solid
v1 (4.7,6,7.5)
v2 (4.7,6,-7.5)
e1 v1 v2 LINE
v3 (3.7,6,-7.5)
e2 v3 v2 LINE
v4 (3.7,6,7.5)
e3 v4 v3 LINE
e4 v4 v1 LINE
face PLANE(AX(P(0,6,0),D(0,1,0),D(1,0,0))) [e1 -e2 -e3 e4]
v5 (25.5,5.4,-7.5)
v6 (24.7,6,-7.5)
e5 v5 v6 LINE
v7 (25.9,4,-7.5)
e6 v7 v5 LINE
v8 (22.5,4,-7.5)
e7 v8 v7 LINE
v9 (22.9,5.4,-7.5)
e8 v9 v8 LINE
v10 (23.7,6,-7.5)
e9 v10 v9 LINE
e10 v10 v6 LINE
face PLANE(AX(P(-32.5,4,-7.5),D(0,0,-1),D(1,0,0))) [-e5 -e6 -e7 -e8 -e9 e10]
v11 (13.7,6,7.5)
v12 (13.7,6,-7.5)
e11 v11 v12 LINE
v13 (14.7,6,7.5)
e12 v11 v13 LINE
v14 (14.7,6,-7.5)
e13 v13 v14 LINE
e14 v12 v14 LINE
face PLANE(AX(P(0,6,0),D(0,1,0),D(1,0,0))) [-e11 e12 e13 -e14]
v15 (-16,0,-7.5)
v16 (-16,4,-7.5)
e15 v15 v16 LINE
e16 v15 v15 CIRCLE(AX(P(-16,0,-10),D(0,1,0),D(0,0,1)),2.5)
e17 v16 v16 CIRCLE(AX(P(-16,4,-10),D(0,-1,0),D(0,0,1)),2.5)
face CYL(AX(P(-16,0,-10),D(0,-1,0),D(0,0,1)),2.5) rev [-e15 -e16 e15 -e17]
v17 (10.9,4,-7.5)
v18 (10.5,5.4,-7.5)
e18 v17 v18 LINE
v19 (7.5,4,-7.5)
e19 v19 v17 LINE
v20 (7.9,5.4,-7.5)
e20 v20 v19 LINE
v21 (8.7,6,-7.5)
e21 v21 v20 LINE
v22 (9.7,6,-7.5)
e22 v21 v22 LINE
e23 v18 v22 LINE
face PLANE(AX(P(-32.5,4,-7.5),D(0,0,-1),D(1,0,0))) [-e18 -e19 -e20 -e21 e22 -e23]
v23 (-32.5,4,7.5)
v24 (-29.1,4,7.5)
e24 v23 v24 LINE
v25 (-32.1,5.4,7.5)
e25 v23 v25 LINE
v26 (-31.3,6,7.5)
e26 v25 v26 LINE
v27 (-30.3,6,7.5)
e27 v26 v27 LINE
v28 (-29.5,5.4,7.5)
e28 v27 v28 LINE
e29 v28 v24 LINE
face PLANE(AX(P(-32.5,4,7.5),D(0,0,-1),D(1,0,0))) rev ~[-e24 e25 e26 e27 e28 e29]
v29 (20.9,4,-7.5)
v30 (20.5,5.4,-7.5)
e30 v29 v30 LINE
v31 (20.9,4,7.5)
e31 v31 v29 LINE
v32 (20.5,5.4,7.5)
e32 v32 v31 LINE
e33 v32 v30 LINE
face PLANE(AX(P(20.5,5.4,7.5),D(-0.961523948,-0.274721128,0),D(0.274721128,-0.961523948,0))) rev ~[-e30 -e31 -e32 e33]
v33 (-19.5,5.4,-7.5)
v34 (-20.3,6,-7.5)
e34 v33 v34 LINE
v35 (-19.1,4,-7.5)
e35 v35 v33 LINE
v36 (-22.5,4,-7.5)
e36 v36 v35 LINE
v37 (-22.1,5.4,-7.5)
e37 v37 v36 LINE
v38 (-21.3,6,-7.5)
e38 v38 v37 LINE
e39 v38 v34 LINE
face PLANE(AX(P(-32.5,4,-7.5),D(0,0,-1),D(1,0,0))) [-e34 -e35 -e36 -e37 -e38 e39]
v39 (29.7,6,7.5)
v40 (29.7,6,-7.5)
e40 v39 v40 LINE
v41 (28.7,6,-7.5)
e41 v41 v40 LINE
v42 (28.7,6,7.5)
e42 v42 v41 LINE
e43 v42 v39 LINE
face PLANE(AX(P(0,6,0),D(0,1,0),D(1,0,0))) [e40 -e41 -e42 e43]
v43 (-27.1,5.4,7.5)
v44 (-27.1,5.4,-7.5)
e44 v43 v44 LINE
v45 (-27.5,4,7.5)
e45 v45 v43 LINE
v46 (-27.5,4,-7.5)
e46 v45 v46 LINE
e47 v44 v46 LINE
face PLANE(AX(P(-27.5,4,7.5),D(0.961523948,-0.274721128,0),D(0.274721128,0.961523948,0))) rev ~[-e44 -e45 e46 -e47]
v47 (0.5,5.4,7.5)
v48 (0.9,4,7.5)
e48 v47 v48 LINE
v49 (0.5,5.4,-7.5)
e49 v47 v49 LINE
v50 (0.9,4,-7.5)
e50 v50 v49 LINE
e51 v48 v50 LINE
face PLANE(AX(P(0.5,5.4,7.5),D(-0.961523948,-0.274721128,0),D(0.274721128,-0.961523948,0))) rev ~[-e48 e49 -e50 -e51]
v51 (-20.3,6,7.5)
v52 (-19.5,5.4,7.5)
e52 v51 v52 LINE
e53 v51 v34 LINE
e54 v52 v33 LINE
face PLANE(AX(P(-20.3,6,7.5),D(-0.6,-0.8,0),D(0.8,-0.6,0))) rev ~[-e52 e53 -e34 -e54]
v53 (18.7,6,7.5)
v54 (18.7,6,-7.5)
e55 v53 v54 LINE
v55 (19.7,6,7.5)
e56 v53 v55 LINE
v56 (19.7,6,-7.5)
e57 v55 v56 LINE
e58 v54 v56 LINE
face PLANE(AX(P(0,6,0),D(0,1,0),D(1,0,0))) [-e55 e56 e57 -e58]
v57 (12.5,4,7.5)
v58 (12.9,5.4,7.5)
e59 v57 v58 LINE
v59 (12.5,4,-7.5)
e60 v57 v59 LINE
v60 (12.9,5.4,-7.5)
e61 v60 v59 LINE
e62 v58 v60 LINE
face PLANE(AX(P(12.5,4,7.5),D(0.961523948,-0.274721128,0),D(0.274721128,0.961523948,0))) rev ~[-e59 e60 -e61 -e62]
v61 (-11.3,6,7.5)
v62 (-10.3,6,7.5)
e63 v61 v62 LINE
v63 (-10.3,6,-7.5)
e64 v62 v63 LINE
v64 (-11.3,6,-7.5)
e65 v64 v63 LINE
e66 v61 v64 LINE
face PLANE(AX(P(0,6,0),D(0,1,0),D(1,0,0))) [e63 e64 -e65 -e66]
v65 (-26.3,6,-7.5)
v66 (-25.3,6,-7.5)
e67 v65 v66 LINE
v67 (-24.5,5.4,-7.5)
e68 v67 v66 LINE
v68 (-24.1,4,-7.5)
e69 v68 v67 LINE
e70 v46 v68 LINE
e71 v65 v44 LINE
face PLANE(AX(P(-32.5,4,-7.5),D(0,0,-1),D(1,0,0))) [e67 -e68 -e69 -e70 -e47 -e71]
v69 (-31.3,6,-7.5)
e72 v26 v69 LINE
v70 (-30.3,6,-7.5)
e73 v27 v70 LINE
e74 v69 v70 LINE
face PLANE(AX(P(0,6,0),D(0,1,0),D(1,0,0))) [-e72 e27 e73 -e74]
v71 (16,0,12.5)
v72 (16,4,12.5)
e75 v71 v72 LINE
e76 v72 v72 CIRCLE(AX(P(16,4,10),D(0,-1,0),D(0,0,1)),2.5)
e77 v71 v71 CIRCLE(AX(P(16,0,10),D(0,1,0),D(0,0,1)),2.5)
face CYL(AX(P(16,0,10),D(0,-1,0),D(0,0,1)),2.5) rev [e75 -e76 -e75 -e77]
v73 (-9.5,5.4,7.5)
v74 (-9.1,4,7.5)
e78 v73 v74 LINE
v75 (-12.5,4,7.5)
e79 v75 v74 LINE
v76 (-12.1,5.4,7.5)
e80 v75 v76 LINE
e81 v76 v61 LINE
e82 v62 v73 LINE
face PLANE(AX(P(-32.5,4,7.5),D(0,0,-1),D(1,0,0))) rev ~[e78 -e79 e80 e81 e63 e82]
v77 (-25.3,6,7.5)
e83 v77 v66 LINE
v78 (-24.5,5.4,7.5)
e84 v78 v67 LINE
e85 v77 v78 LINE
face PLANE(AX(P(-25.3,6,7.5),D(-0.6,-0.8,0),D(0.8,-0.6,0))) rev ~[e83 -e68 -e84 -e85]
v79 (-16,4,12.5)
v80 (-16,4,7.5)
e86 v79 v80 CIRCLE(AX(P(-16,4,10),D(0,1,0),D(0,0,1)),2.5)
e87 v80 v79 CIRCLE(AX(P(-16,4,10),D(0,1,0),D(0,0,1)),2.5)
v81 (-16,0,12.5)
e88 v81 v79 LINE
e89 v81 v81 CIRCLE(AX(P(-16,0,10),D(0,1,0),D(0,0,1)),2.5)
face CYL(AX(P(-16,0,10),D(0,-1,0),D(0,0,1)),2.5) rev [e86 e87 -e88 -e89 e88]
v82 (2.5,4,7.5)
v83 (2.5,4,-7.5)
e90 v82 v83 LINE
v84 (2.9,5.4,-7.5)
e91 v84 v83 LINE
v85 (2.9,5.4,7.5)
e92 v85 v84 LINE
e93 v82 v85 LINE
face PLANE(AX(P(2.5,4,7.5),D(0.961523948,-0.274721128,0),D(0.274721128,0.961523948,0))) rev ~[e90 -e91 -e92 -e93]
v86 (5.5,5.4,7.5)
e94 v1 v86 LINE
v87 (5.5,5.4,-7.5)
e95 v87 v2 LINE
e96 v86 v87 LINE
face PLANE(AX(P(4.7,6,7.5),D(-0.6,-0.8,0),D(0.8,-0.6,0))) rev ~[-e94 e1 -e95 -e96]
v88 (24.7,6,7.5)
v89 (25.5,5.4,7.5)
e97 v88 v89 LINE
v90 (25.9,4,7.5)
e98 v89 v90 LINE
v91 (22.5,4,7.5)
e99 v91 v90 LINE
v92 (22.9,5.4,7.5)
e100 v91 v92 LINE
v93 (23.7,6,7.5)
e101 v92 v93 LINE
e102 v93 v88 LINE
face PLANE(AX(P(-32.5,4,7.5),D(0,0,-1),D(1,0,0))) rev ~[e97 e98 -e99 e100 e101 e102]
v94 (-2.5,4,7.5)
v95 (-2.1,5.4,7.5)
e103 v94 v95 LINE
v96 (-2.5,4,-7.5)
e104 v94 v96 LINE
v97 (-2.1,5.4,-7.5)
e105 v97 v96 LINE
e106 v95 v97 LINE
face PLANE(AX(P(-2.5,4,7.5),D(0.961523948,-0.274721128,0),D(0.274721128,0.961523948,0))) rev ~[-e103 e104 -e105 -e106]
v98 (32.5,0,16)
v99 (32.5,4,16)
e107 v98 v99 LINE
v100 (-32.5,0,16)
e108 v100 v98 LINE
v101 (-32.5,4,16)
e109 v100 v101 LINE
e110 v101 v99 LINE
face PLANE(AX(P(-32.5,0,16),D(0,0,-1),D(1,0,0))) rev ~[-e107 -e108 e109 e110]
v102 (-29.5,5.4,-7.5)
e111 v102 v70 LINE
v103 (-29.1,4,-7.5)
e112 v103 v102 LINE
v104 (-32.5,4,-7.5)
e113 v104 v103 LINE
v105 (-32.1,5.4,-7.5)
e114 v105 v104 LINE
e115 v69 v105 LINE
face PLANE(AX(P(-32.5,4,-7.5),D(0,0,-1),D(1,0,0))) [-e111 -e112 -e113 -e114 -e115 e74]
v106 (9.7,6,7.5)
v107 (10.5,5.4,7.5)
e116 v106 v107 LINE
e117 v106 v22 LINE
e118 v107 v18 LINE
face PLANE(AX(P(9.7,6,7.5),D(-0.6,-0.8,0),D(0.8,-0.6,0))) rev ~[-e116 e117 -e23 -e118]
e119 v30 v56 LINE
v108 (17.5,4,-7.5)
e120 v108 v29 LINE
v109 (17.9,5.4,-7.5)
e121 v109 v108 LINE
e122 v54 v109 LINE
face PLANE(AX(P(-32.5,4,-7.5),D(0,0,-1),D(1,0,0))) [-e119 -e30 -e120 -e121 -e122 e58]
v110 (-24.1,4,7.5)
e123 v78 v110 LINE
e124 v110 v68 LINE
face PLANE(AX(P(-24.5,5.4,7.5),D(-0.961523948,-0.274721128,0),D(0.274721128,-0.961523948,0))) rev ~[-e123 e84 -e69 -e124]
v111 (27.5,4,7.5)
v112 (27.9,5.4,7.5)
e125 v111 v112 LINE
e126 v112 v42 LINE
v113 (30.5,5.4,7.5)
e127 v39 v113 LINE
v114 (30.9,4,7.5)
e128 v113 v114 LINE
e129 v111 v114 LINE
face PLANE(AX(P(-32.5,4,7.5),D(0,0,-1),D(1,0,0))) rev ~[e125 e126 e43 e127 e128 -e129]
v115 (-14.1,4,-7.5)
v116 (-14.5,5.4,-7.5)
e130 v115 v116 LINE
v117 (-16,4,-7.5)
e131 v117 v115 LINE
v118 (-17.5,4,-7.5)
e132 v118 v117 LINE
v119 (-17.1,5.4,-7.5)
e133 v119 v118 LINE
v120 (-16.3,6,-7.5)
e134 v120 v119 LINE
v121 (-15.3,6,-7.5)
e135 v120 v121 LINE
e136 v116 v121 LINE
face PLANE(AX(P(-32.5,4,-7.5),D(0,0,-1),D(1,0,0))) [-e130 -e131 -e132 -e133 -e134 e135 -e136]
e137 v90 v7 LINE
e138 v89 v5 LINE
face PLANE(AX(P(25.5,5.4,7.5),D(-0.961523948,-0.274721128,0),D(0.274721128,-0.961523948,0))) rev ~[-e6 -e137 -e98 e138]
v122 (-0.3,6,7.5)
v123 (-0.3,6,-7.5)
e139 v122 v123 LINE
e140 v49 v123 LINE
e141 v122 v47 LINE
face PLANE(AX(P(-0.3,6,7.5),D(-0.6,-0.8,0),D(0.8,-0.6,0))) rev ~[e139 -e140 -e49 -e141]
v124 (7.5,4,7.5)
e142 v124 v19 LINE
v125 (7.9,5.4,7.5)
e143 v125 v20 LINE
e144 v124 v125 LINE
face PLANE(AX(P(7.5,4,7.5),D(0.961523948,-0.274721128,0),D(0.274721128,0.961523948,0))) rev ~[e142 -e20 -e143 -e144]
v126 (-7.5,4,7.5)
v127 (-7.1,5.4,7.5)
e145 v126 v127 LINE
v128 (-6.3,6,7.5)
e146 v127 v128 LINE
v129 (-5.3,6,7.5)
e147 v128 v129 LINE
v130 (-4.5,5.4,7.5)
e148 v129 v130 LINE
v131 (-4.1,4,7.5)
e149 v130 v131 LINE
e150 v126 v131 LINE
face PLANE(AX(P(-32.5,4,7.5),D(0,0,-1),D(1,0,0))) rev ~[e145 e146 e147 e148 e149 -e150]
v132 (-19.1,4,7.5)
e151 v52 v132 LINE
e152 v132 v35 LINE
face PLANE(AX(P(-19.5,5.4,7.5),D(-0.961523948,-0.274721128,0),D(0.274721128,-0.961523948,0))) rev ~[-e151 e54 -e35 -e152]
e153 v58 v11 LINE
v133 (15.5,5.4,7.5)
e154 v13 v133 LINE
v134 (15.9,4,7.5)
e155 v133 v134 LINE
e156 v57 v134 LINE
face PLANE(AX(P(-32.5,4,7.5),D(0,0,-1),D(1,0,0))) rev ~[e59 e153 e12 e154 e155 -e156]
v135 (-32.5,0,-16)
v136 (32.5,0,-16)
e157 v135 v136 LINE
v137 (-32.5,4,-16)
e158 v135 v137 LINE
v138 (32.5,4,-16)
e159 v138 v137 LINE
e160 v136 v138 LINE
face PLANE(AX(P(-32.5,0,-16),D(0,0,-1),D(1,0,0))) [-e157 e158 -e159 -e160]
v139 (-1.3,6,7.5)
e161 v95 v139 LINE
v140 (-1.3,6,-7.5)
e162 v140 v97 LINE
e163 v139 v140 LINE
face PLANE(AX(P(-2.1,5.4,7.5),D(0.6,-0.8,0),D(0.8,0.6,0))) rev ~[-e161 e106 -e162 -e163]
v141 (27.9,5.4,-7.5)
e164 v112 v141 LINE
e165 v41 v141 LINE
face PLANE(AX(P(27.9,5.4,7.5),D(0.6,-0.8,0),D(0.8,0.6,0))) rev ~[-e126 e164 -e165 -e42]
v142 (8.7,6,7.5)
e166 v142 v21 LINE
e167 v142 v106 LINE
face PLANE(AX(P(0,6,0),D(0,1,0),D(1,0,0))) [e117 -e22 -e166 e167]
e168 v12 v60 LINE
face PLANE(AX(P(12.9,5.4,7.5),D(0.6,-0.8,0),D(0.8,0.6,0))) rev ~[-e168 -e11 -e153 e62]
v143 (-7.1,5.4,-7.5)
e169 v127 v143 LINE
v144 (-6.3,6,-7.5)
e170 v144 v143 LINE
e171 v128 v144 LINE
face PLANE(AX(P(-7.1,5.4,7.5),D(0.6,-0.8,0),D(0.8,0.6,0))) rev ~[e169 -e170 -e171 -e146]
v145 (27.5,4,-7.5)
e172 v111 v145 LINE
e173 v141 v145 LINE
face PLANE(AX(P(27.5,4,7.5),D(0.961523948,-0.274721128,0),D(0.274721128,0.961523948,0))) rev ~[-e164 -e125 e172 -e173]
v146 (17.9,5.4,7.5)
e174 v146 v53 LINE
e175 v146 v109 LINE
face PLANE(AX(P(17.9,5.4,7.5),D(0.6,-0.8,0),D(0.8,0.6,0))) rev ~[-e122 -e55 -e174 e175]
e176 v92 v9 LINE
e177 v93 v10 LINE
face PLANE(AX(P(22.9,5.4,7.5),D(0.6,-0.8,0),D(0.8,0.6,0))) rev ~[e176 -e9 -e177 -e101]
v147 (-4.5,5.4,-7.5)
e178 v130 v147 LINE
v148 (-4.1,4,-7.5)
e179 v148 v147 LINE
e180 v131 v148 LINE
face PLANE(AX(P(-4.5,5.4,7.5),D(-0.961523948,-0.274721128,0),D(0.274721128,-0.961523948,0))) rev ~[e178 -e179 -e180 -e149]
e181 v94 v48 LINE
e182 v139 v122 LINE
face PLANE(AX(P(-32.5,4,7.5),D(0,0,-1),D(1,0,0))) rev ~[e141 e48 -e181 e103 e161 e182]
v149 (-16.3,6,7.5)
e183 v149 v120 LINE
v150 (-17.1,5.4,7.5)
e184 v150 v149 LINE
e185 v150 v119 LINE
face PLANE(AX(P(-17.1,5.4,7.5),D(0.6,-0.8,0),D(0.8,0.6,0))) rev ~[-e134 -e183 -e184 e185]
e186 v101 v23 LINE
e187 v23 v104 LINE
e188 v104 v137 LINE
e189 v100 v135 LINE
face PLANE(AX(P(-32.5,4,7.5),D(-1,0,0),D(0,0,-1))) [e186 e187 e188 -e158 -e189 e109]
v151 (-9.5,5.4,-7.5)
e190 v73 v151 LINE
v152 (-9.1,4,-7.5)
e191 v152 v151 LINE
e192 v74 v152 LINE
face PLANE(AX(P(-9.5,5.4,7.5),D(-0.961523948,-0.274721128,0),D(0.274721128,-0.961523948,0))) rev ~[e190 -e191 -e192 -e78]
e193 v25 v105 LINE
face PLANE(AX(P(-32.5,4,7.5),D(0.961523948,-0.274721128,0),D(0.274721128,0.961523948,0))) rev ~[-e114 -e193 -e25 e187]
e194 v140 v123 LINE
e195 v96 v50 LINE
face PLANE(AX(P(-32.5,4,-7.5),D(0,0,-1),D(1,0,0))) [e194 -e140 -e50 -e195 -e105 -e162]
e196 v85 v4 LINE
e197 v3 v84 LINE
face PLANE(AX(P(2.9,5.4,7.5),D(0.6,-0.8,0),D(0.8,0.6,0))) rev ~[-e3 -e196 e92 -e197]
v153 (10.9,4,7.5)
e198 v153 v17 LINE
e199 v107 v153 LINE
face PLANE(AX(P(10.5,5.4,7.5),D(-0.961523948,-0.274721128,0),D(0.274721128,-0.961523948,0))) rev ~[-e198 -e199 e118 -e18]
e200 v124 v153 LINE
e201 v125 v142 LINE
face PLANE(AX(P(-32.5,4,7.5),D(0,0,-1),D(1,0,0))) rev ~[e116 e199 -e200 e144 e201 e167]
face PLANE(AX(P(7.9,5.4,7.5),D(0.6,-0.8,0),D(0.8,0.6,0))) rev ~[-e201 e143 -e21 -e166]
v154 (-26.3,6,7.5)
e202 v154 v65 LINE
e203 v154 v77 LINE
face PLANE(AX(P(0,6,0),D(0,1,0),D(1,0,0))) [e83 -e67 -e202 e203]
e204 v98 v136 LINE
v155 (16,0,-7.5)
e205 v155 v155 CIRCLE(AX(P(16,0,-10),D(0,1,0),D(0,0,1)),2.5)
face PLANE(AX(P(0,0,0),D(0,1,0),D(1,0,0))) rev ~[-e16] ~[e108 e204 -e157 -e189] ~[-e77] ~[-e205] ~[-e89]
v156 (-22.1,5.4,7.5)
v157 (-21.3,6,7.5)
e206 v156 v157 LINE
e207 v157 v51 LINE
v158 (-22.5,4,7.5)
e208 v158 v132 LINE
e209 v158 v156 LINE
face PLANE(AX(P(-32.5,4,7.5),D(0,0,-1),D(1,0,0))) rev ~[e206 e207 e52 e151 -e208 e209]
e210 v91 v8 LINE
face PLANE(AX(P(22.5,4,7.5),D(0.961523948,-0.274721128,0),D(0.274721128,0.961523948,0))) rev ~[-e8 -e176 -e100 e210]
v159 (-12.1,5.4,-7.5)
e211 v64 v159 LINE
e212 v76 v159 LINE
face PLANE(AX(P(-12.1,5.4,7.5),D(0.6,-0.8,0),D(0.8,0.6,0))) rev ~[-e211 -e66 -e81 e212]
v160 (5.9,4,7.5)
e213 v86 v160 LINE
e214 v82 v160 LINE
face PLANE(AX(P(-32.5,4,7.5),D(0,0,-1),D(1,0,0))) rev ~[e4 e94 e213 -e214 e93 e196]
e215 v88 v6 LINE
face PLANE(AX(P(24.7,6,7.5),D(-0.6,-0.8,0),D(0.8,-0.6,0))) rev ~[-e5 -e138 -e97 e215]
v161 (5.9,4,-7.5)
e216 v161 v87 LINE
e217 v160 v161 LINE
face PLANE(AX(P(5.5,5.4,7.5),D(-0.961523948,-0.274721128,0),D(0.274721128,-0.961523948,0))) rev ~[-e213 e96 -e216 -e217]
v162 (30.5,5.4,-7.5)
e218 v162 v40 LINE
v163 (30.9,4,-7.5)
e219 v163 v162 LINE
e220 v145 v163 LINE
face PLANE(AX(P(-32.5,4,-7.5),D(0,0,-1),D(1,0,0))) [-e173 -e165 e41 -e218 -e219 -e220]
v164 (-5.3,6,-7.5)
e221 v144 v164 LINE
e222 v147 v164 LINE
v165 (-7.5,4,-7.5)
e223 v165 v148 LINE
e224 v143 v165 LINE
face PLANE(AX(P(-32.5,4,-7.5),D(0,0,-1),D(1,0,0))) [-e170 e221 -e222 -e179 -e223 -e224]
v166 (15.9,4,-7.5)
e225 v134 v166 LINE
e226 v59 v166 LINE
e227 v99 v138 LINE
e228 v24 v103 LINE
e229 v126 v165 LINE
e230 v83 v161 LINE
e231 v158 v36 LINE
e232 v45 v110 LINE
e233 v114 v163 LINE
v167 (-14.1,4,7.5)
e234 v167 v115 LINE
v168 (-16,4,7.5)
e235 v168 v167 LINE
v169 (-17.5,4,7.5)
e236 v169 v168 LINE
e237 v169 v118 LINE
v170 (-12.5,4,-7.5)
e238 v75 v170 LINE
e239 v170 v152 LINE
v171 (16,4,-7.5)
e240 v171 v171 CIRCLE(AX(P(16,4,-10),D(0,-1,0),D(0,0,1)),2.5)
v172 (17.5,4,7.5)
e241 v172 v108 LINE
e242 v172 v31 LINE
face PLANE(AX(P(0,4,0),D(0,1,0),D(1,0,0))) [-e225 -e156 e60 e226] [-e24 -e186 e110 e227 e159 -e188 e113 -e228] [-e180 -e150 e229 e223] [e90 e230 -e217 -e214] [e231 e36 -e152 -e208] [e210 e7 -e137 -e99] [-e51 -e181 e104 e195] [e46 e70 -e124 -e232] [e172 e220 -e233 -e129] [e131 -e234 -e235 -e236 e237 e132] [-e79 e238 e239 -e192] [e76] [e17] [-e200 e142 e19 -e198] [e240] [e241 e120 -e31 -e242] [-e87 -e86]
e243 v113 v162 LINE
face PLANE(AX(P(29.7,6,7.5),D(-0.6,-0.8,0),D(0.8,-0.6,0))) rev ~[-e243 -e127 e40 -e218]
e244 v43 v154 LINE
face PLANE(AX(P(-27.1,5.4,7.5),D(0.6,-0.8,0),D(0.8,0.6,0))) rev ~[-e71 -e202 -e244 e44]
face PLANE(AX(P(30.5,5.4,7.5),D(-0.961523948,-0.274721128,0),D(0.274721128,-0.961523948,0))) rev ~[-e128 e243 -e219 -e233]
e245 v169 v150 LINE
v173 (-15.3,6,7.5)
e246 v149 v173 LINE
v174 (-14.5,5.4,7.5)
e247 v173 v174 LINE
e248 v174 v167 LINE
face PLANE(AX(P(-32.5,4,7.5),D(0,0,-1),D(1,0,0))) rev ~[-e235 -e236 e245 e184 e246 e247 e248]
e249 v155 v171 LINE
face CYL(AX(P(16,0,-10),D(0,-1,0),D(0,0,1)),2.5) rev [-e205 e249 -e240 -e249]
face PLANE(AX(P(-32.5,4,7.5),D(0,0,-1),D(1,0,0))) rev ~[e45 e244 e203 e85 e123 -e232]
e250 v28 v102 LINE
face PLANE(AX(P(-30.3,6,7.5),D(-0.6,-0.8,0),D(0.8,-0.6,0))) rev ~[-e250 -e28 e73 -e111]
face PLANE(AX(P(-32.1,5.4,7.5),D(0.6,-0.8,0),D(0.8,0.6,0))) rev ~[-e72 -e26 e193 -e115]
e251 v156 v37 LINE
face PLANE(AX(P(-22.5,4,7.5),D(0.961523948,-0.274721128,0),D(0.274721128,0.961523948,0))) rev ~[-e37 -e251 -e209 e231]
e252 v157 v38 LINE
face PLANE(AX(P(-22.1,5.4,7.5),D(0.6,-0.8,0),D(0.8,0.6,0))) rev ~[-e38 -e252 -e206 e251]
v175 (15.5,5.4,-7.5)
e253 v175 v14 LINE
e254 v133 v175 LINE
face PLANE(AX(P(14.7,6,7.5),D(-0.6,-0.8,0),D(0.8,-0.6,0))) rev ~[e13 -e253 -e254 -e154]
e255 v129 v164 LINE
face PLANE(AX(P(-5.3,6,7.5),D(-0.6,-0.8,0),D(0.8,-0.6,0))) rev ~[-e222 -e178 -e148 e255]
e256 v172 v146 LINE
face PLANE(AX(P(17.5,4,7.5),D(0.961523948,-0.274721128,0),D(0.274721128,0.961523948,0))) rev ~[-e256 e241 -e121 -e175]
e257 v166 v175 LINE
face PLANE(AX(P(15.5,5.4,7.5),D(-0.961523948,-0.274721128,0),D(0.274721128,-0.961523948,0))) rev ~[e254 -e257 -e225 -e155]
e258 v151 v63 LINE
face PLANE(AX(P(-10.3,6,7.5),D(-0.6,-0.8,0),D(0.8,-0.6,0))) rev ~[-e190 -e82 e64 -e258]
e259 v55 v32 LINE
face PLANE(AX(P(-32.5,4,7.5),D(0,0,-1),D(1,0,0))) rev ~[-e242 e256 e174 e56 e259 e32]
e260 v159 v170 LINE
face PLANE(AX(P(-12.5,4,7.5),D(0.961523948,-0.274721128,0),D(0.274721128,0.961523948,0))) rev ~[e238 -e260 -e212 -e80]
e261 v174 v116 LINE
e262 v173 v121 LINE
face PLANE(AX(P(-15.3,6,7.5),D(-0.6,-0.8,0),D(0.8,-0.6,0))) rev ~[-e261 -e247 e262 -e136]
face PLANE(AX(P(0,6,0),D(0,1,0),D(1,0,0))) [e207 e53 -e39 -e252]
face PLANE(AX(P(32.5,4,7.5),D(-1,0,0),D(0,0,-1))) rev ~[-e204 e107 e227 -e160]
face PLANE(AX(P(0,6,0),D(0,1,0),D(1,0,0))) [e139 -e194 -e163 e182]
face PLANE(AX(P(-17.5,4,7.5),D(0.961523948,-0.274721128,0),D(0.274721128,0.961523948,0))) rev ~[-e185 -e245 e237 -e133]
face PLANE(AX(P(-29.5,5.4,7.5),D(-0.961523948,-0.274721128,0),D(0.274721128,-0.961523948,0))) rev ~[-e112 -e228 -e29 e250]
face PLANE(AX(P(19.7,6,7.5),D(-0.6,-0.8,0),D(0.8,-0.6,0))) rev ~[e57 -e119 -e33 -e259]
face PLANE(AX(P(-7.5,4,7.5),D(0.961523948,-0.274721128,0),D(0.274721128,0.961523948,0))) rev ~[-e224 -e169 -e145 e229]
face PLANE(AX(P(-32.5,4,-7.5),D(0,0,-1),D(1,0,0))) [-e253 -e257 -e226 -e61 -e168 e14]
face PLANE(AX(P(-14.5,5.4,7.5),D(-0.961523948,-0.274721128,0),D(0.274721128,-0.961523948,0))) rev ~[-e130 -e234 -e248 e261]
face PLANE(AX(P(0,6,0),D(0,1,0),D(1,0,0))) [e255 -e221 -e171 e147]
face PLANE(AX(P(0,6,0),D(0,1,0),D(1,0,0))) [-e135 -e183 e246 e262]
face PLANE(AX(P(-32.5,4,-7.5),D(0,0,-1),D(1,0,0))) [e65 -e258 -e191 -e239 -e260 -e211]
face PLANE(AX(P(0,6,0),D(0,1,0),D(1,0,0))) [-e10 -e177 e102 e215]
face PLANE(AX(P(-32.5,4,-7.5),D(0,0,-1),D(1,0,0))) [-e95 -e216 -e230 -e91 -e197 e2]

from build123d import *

# Parameters (mm, degrees)
SKETCH1_W           = 65
SKETCH1_H           = 32
SKETCH1_R           = 2.5
BOSS_EXTRUDE1_DEPTH = 4
SKETCH2_W           = 65
SKETCH2_H           = 15
BOSS_EXTRUDE2_DEPTH = 2
CUT_EXTRUDE2_DEPTH  = 41.552435192


with BuildPart() as part:
    # Sketch1 → Boss-Extrude1 (new body)
    with BuildSketch(Plane(origin=(0, 0, 0), x_dir=(1, 0, 0), z_dir=(0, 1, 0))):
        Rectangle(SKETCH1_W, SKETCH1_H)
        with Locations((-16, 10)):
            Circle(SKETCH1_R, mode=Mode.SUBTRACT)
        with Locations((16, 10)):
            Circle(SKETCH1_R, mode=Mode.SUBTRACT)
        with Locations((-16, -10)):
            Circle(SKETCH1_R, mode=Mode.SUBTRACT)
        with Locations((16, -10)):
            Circle(SKETCH1_R, mode=Mode.SUBTRACT)
    extrude(amount=BOSS_EXTRUDE1_DEPTH)

    # Sketch2 → Boss-Extrude2 (add)
    with BuildSketch(Plane(origin=(0, 4, 0), x_dir=(1, 0, 0), z_dir=(0, 1, 0))):
        Rectangle(SKETCH2_W, SKETCH2_H)
    extrude(amount=BOSS_EXTRUDE2_DEPTH)

    # Sketch3 → Cut-Extrude2 (cut, through all)
    with BuildSketch(Plane.XY.offset(7.5)):
        Polygon((-32.5, 6), (-32.5, 4), (-32.1, 5.4), (-31.3, 6), align=None)
        Polygon((-29.5, 5.4), (-29.1, 4), (-27.5, 4), (-27.1, 5.4), (-26.3, 6), (-30.3, 6), align=None)
        Polygon((-24.5, 5.4), (-24.1, 4), (-22.5, 4), (-22.1, 5.4), (-21.3, 6), (-24.1, 6), (-25.3, 6), align=None)
        Polygon((-19.5, 5.4), (-19.1, 4), (-17.5, 4), (-17.1, 5.4), (-16.3, 6), (-20.3, 6), align=None)
        Polygon((-14.5, 5.4), (-14.1, 4), (-12.5, 4), (-12.1, 5.4), (-11.3, 6), (-15.3, 6), align=None)
        Polygon((-9.5, 5.4), (-9.1, 4), (-7.5, 4), (-7.1, 5.4), (-6.3, 6), (-10.3, 6), align=None)
        Polygon((-4.5, 5.4), (-4.1, 4), (-2.5, 4), (-2.1, 5.4), (-1.3, 6), (-5.3, 6), align=None)
        Polygon((0.5, 5.4), (0.9, 4), (2.5, 4), (2.9, 5.4), (3.7, 6), (-0.3, 6), align=None)
        Polygon((5.5, 5.4), (5.9, 4), (7.5, 4), (7.9, 5.4), (8.7, 6), (4.7, 6), align=None)
        Polygon((10.5, 5.4), (10.9, 4), (12.5, 4), (12.9, 5.4), (13.7, 6), (9.7, 6), align=None)
        Polygon((15.5, 5.4), (15.9, 4), (17.5, 4), (17.9, 5.4), (18.7, 6), (14.7, 6), align=None)
        Polygon((20.5, 5.4), (20.9, 4), (22.5, 4), (22.9, 5.4), (23.7, 6), (19.7, 6), align=None)
        Polygon((25.5, 5.4), (25.9, 4), (27.5, 4), (27.9, 5.4), (28.7, 6), (24.7, 6), align=None)
        Polygon((30.5, 5.4), (30.9, 4), (32.5, 4), (32.5, 6), (29.7, 6), align=None)
    extrude(amount=-CUT_EXTRUDE2_DEPTH, mode=Mode.SUBTRACT)


solid = part.part
